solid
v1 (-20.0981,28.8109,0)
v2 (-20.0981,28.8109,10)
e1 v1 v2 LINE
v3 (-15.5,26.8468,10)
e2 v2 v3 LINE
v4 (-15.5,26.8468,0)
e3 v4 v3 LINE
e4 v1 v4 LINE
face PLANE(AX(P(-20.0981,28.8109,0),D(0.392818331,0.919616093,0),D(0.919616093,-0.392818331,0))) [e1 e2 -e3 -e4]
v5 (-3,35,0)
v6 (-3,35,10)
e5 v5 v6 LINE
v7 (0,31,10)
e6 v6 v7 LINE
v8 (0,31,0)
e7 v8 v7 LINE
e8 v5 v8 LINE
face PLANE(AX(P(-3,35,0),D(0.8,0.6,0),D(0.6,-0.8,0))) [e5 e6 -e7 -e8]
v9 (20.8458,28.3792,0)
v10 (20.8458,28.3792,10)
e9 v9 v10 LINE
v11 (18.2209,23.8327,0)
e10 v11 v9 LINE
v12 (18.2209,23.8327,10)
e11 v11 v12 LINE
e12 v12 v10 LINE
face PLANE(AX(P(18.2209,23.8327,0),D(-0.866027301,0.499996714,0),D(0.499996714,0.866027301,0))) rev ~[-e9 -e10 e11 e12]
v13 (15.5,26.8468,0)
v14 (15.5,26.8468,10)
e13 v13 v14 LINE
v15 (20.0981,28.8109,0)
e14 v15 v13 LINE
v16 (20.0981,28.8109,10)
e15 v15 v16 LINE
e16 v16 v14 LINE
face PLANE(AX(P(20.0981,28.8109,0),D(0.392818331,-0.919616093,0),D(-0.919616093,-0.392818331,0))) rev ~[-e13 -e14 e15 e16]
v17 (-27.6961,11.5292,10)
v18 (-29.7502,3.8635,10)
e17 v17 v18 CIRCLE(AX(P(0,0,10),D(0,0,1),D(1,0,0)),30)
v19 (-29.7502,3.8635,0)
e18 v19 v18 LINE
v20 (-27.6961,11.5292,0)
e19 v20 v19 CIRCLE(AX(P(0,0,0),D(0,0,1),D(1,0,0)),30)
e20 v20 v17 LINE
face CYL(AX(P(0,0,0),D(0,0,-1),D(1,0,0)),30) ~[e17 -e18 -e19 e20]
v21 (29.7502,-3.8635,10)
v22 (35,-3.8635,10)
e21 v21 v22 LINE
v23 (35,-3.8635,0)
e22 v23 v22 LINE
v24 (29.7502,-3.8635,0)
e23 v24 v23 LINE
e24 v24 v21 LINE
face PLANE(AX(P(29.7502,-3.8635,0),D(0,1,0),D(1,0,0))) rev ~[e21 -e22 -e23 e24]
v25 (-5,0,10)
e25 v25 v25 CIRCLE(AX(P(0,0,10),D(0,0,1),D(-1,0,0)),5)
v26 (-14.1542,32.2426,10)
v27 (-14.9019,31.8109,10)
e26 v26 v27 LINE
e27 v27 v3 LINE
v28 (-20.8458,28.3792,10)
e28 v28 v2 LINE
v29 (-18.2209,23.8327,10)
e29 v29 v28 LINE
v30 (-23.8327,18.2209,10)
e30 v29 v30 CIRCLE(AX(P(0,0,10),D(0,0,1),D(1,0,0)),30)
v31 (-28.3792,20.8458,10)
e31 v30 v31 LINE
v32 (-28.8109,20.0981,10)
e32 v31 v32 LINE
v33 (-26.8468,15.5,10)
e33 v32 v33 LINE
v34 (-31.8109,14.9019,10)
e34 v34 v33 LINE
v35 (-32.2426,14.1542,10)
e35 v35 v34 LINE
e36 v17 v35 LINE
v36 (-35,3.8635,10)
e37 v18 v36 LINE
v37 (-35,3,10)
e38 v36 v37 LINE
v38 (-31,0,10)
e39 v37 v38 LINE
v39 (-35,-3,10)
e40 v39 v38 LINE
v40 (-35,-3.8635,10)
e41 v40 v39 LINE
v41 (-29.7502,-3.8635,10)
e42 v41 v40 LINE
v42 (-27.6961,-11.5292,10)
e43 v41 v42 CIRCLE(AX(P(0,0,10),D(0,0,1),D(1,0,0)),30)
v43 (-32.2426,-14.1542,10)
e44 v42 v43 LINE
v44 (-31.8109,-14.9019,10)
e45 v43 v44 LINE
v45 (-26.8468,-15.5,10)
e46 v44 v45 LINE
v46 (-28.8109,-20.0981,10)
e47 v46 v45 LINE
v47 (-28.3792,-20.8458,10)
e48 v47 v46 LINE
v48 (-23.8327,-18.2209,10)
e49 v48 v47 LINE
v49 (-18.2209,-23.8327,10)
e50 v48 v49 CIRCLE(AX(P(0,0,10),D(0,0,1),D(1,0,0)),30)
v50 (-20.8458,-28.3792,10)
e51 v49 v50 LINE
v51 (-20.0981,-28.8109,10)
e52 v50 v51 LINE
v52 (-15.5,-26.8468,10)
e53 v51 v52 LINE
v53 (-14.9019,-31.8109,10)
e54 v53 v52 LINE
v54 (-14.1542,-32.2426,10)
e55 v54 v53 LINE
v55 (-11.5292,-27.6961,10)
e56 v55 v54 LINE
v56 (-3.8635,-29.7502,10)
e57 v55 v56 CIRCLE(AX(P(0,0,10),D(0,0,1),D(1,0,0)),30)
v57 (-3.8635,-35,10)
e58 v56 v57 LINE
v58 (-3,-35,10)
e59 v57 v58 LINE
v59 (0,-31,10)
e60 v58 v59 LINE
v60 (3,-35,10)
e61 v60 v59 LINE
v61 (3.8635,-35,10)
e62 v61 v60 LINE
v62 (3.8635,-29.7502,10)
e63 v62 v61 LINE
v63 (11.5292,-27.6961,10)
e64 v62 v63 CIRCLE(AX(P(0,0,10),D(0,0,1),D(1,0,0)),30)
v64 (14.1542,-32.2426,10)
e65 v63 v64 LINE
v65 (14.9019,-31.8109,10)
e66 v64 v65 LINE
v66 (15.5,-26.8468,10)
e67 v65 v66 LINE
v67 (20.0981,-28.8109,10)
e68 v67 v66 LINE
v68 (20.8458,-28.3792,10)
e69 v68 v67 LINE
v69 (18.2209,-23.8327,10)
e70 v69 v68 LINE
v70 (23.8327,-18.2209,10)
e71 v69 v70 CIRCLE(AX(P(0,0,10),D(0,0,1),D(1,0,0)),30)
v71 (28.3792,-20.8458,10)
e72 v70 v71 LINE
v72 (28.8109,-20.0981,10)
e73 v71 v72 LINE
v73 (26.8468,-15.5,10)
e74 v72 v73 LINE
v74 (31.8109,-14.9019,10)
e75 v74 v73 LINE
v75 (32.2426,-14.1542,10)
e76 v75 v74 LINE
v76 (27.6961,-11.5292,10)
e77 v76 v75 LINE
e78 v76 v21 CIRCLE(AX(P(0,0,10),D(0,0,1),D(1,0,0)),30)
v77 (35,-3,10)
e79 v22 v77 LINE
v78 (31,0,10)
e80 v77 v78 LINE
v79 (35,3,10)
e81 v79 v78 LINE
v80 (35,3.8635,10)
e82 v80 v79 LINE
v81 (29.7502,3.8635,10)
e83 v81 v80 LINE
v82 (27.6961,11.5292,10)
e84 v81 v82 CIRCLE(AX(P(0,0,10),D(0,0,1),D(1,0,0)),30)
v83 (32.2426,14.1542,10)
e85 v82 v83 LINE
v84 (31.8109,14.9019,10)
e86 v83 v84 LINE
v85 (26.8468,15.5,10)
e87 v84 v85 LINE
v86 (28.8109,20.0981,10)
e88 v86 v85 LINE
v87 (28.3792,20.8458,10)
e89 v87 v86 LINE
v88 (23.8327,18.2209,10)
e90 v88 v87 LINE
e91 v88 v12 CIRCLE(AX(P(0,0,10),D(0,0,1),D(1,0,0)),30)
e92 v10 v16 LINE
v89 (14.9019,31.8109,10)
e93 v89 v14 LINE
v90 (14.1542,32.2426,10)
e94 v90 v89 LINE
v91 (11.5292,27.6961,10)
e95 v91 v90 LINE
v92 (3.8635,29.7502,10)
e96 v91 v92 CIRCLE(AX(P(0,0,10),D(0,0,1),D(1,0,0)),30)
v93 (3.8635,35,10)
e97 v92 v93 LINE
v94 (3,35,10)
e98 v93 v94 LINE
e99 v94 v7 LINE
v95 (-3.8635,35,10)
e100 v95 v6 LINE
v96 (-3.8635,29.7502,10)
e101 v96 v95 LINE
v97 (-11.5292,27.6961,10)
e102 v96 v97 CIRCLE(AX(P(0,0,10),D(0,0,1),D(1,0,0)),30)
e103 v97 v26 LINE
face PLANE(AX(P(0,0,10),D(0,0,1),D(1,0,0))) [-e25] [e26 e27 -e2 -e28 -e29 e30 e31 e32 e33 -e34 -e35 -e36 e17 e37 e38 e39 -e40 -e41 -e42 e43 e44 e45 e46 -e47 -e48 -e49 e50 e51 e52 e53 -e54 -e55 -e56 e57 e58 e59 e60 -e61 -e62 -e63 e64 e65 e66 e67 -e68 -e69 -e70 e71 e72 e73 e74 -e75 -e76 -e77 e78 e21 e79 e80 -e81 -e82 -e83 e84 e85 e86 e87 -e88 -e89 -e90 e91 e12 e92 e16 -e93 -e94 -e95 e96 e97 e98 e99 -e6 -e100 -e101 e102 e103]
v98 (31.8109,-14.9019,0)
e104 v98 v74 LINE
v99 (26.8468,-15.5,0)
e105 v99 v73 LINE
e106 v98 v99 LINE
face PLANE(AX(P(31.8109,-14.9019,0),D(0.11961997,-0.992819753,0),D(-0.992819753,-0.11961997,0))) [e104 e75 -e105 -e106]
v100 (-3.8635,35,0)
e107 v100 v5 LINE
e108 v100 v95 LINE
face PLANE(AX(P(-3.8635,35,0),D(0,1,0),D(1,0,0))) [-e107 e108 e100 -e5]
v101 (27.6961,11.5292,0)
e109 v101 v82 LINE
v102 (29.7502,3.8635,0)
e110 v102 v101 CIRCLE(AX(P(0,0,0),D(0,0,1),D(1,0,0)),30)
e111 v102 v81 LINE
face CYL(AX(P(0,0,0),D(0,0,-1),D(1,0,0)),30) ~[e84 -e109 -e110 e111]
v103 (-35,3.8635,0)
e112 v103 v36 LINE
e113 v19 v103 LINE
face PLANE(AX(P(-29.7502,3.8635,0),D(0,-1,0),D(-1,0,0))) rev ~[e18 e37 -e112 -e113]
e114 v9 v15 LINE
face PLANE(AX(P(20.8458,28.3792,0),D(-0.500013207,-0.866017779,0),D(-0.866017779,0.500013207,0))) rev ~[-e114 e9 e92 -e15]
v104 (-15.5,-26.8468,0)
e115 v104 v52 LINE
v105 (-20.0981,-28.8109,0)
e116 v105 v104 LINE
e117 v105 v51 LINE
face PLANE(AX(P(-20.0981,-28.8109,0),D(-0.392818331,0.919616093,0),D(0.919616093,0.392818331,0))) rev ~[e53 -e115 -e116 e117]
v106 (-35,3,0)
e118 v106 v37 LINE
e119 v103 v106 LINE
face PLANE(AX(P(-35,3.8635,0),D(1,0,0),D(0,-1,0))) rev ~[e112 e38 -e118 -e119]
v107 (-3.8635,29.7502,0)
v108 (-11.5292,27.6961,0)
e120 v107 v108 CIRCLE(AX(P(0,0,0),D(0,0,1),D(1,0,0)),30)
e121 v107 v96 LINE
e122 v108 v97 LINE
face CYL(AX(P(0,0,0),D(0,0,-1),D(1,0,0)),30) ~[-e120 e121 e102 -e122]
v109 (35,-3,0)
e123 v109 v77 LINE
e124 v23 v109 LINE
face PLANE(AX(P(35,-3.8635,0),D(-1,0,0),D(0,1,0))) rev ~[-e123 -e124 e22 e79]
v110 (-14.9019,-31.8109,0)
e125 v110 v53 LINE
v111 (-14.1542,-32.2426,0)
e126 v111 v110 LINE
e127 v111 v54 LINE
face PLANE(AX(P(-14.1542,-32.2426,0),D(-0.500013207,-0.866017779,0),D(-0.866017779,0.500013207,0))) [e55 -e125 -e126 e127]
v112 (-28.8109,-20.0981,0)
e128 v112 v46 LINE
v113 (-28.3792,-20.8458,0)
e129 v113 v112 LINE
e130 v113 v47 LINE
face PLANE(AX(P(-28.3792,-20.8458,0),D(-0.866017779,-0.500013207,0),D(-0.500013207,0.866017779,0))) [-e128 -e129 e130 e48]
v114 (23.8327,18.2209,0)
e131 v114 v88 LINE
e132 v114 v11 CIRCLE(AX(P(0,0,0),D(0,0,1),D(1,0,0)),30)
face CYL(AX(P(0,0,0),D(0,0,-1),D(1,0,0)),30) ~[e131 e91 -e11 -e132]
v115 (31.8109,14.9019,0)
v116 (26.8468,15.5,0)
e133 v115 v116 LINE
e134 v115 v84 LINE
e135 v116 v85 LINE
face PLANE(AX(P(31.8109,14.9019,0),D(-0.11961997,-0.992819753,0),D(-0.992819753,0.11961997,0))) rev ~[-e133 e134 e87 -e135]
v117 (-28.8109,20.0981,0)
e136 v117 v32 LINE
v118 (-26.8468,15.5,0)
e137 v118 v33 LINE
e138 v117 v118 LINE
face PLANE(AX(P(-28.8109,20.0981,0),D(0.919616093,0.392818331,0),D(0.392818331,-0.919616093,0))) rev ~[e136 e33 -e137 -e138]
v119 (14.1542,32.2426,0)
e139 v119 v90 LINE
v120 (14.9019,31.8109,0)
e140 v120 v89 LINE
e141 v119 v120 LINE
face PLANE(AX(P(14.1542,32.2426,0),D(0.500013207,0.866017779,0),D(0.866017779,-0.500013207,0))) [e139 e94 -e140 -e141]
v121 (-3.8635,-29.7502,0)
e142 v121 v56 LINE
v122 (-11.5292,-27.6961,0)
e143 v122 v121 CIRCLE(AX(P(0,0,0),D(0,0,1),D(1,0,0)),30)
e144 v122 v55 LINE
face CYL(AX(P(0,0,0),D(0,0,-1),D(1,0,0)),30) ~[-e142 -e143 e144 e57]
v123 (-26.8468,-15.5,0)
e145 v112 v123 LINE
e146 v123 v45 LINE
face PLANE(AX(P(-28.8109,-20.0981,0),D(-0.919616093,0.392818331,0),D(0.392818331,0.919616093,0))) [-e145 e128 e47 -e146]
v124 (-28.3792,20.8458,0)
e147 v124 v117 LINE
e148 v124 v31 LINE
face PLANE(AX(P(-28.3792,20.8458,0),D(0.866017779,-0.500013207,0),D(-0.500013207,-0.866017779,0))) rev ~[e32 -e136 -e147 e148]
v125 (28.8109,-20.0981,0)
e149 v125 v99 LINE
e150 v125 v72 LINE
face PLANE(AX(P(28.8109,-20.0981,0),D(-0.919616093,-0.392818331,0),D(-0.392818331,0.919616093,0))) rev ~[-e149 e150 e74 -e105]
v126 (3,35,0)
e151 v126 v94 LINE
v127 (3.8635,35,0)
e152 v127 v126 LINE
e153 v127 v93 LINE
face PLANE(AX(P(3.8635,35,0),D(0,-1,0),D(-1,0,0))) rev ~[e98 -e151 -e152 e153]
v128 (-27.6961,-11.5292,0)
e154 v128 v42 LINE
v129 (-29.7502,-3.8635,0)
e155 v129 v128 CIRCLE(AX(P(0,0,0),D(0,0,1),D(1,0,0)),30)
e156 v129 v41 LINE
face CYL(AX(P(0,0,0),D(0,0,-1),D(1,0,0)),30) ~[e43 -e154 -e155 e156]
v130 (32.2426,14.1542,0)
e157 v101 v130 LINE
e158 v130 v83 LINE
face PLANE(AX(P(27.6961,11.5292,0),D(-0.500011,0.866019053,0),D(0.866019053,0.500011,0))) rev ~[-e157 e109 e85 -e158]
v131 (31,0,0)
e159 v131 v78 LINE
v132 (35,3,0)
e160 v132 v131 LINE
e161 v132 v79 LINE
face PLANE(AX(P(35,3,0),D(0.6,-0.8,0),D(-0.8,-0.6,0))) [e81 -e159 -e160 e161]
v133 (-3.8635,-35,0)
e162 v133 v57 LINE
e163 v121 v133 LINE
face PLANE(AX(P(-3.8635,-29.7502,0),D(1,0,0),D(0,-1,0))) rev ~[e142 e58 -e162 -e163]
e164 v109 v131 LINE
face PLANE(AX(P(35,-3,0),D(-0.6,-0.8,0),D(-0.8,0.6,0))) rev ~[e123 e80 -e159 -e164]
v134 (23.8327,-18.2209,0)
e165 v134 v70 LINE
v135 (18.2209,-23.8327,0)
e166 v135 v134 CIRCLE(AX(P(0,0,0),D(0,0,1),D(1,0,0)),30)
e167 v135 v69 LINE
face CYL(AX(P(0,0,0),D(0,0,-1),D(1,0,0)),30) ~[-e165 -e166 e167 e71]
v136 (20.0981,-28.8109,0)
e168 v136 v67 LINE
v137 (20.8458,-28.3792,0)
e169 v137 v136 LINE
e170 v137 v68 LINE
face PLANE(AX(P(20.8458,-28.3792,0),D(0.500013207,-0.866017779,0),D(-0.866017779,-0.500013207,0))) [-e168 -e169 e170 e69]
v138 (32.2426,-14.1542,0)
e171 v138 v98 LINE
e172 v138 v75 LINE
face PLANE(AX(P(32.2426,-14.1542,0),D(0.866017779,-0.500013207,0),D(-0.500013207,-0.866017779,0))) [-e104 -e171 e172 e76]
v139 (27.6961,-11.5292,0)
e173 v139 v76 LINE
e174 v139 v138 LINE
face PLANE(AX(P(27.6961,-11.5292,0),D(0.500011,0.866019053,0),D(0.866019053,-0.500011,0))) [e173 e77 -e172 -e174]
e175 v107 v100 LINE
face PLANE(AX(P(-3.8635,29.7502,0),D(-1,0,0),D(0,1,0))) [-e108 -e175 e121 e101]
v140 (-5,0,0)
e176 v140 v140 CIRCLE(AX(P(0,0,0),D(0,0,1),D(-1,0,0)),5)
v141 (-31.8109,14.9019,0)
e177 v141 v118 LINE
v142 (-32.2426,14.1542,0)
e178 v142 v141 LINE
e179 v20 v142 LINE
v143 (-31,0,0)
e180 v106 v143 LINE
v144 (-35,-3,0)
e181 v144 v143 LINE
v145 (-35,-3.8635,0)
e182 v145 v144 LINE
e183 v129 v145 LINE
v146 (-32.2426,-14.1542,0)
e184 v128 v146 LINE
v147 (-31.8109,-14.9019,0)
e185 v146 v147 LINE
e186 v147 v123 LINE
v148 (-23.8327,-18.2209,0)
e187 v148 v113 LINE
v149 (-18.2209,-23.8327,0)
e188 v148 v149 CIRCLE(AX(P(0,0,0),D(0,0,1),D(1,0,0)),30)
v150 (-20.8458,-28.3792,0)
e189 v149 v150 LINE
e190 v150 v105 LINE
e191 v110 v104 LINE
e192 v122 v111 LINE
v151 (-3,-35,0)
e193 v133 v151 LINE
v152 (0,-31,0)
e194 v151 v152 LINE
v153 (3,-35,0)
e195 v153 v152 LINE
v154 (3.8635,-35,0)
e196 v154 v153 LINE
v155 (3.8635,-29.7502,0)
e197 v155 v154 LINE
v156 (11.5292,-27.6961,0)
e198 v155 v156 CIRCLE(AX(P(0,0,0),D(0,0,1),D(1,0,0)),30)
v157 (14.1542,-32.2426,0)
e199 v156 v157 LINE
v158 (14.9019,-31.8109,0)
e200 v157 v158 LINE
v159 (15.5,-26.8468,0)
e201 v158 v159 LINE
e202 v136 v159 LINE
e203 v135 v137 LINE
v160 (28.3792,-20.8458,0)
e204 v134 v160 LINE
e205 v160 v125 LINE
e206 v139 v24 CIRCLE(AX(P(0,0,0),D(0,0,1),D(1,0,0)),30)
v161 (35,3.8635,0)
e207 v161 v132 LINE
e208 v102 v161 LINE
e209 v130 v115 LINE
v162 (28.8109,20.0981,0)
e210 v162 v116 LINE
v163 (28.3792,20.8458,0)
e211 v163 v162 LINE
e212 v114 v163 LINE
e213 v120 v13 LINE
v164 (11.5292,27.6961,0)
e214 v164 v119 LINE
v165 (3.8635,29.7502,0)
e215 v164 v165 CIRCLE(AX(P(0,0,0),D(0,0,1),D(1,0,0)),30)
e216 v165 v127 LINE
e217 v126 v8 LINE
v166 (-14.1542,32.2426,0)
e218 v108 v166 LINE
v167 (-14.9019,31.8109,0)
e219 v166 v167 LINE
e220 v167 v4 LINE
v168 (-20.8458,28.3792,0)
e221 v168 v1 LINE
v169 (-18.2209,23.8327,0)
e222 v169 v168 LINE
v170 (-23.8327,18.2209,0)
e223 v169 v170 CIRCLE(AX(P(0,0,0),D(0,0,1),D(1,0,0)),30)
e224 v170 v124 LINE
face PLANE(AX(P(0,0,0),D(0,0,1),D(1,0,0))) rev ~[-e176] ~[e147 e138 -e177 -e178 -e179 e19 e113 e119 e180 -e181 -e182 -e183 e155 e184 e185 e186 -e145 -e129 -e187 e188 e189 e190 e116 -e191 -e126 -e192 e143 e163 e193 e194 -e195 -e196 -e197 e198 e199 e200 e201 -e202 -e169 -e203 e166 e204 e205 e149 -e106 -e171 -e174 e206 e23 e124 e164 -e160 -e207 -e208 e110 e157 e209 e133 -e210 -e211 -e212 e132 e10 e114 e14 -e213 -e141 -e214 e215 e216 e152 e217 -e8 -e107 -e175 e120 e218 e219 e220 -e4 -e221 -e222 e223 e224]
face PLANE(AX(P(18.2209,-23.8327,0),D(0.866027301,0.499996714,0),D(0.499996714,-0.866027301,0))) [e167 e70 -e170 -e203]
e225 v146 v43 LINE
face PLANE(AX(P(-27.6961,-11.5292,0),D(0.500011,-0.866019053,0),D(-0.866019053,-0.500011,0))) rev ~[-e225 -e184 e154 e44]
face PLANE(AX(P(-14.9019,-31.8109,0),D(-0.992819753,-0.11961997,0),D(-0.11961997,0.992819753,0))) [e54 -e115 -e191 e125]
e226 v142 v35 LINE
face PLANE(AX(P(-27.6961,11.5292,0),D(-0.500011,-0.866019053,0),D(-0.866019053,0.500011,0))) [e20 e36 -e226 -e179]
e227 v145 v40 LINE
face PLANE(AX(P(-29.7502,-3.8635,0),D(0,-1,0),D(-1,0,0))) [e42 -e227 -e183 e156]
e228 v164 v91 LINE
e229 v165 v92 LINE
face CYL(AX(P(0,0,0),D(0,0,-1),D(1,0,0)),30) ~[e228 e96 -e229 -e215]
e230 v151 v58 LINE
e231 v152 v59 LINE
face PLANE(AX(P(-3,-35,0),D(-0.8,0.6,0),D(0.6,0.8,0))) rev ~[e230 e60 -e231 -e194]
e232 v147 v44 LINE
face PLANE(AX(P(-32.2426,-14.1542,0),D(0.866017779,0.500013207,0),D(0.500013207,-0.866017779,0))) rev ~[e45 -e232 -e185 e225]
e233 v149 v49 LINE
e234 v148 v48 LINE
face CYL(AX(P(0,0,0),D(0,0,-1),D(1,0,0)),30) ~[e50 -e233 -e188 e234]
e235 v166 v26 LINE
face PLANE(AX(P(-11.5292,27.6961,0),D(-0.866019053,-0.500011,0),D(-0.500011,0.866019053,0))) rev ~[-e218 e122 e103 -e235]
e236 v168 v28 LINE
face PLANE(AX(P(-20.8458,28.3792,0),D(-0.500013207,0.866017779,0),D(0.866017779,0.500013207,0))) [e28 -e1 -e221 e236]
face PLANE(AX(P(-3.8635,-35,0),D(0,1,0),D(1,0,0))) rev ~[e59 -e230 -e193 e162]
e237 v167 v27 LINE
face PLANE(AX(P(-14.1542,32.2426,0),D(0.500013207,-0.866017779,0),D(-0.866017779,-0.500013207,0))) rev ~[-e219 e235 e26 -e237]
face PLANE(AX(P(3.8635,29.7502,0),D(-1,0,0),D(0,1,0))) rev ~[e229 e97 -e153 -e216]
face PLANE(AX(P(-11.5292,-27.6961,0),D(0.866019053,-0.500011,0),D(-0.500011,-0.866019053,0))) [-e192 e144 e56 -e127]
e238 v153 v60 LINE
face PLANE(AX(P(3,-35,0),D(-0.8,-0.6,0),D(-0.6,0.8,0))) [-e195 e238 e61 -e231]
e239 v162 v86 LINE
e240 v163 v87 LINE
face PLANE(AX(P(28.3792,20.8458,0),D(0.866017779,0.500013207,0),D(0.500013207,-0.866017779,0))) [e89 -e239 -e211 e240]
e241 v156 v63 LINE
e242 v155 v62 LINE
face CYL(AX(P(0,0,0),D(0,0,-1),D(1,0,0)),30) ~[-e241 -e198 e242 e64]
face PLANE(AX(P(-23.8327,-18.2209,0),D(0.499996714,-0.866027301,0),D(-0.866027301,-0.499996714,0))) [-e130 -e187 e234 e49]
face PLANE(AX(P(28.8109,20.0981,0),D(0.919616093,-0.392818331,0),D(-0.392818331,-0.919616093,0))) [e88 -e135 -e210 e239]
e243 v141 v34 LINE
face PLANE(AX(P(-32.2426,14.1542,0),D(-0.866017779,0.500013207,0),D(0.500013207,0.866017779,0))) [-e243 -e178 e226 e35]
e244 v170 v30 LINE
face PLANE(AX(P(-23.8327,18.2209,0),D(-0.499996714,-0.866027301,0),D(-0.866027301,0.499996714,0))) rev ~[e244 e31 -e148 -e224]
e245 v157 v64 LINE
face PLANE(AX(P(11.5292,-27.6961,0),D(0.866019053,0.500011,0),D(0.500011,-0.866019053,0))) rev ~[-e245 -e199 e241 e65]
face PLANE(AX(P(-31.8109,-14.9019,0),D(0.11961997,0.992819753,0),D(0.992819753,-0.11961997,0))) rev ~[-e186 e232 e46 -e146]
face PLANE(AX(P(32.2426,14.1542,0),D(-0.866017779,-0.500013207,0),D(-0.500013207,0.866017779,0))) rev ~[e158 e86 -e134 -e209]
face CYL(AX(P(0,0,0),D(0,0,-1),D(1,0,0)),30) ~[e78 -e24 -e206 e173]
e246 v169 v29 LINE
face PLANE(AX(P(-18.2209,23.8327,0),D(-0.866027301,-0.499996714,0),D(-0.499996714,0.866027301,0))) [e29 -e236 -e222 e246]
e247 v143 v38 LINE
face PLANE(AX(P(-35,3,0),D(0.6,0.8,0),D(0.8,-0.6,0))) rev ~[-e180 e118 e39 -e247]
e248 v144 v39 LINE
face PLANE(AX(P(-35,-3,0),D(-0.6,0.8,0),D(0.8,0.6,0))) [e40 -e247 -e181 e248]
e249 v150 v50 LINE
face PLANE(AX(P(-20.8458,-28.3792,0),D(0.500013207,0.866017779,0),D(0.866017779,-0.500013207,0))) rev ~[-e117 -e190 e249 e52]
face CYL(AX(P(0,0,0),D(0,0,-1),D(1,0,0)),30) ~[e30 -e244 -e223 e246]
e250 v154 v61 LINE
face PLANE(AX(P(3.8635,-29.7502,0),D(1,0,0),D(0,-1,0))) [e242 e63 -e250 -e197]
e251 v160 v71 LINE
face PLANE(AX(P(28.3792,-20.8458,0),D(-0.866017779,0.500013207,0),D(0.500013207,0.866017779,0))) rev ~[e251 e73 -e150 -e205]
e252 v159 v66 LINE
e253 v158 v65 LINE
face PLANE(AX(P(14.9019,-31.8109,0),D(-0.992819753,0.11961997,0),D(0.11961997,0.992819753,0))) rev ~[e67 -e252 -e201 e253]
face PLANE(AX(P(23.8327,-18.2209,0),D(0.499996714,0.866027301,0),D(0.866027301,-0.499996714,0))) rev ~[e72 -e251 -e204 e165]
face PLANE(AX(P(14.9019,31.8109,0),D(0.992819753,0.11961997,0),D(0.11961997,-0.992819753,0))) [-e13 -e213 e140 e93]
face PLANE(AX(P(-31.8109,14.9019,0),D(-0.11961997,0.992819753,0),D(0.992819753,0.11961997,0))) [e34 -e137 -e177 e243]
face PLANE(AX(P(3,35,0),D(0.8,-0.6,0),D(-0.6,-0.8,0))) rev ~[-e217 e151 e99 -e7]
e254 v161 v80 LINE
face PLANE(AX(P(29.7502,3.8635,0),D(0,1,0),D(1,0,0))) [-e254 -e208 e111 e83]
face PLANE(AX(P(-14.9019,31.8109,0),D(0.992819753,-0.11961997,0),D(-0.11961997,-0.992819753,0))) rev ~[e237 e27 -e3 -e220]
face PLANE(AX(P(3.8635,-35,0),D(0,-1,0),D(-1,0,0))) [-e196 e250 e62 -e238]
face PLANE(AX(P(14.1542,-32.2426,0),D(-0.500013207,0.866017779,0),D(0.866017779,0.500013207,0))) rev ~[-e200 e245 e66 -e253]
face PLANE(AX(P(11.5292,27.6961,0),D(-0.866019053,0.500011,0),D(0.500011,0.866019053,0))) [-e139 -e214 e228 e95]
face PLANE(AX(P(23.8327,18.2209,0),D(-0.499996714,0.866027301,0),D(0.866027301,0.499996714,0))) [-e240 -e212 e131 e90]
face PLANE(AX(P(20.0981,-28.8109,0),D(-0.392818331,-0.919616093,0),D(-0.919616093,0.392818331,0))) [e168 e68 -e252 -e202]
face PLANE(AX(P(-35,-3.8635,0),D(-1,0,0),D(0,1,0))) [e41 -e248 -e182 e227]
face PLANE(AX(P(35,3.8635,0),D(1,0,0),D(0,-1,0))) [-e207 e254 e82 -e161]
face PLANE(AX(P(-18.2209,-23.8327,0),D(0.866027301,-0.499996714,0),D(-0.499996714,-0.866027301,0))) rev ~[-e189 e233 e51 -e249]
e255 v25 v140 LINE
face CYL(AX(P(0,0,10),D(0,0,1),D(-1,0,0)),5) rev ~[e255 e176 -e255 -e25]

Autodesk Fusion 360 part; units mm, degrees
sketch "turn wheel" plane through (0, 0, 0) normal (0, 0, 1) x (1, 0, 0)
  circle A0 centre (0, 0) radius 30
  line L0 (-3.8635, 29.7502) -> (-3.8635, 35)
  line L1 (-3.8635, 35) -> (-3, 35)
  line L2 (-3, 35) -> (0, 31)
  line L3 (0, 35) -> (0, 30) construction
  line L4 (3.8635, 29.7502) -> (3.8635, 35)
  line L5 (3.8635, 35) -> (3, 35)
  line L6 (3, 35) -> (0, 31)
  line L7 (-18.2209, 23.8327) -> (-20.8458, 28.3792)
  line L8 (-20.0981, 28.8109) -> (-15.5, 26.8468)
  line L9 (-20.8458, 28.3792) -> (-20.0981, 28.8109)
  line L10 (-14.9019, 31.8109) -> (-15.5, 26.8468)
  line L11 (-14.1542, 32.2426) -> (-14.9019, 31.8109)
  line L12 (-11.5292, 27.6961) -> (-14.1542, 32.2426)
  line L13 (-27.6961, 11.5292) -> (-32.2426, 14.1542)
  line L14 (-31.8109, 14.9019) -> (-26.8468, 15.5)
  line L15 (-32.2426, 14.1542) -> (-31.8109, 14.9019)
  line L16 (-28.8109, 20.0981) -> (-26.8468, 15.5)
  line L17 (-28.3792, 20.8458) -> (-28.8109, 20.0981)
  line L18 (-23.8327, 18.2209) -> (-28.3792, 20.8458)
  line L19 (-29.7502, -3.8635) -> (-35, -3.8635)
  line L20 (-35, -3) -> (-31, 0)
  line L21 (-35, -3.8635) -> (-35, -3)
  line L22 (-35, 3) -> (-31, 0)
  line L23 (-35, 3.8635) -> (-35, 3)
  line L24 (-29.7502, 3.8635) -> (-35, 3.8635)
  line L25 (-23.8327, -18.2209) -> (-28.3792, -20.8458)
  line L26 (-28.8109, -20.0981) -> (-26.8468, -15.5)
  line L27 (-28.3792, -20.8458) -> (-28.8109, -20.0981)
  line L28 (-31.8109, -14.9019) -> (-26.8468, -15.5)
  line L29 (-32.2426, -14.1542) -> (-31.8109, -14.9019)
  line L30 (-27.6961, -11.5292) -> (-32.2426, -14.1542)
  line L31 (-11.5292, -27.6961) -> (-14.1542, -32.2426)
  line L32 (-14.9019, -31.8109) -> (-15.5, -26.8468)
  line L33 (-14.1542, -32.2426) -> (-14.9019, -31.8109)
  line L34 (-20.0981, -28.8109) -> (-15.5, -26.8468)
  line L35 (-20.8458, -28.3792) -> (-20.0981, -28.8109)
  line L36 (-18.2209, -23.8327) -> (-20.8458, -28.3792)
  line L37 (3.8635, -29.7502) -> (3.8635, -35)
  line L38 (3, -35) -> (0, -31)
  line L39 (3.8635, -35) -> (3, -35)
  line L40 (-3, -35) -> (0, -31)
  line L41 (-3.8635, -35) -> (-3, -35)
  line L42 (-3.8635, -29.7502) -> (-3.8635, -35)
  line L43 (18.2209, -23.8327) -> (20.8458, -28.3792)
  line L44 (20.0981, -28.8109) -> (15.5, -26.8468)
  line L45 (20.8458, -28.3792) -> (20.0981, -28.8109)
  line L46 (14.9019, -31.8109) -> (15.5, -26.8468)
  line L47 (14.1542, -32.2426) -> (14.9019, -31.8109)
  line L48 (11.5292, -27.6961) -> (14.1542, -32.2426)
  line L49 (27.6961, -11.5292) -> (32.2426, -14.1542)
  line L50 (31.8109, -14.9019) -> (26.8468, -15.5)
  line L51 (32.2426, -14.1542) -> (31.8109, -14.9019)
  line L52 (28.8109, -20.0981) -> (26.8468, -15.5)
  line L53 (28.3792, -20.8458) -> (28.8109, -20.0981)
  line L54 (23.8327, -18.2209) -> (28.3792, -20.8458)
  line L55 (29.7502, 3.8635) -> (35, 3.8635)
  line L56 (35, 3) -> (31, 0)
  line L57 (35, 3.8635) -> (35, 3)
  line L58 (35, -3) -> (31, 0)
  line L59 (35, -3.8635) -> (35, -3)
  line L60 (29.7502, -3.8635) -> (35, -3.8635)
  line L61 (23.8327, 18.2209) -> (28.3792, 20.8458)
  line L62 (28.8109, 20.0981) -> (26.8468, 15.5)
  line L63 (28.3792, 20.8458) -> (28.8109, 20.0981)
  line L64 (31.8109, 14.9019) -> (26.8468, 15.5)
  line L65 (32.2426, 14.1542) -> (31.8109, 14.9019)
  line L66 (27.6961, 11.5292) -> (32.2426, 14.1542)
  line L67 (11.5292, 27.6961) -> (14.1542, 32.2426)
  line L68 (14.9019, 31.8109) -> (15.5, 26.8468)
  line L69 (14.1542, 32.2426) -> (14.9019, 31.8109)
  line L70 (20.0981, 28.8109) -> (15.5, 26.8468)
  line L71 (20.8458, 28.3792) -> (20.0981, 28.8109)
  line L72 (18.2209, 23.8327) -> (20.8458, 28.3792)
  dimension "d1" = 60
  dimension "d2" = 5.2498
  dimension "d3" = 0.8635
  dimension "d4" = 5
  dimension "d6" = 360
extrude "Extrude1" add sketch "turn wheel" along normal blind 10
sketch "hole punch" plane through (0, 0, 10) normal (0, 0, 1) x (-1, 0, 0)
  arc A0 (-23.8327, -18.2209) -> (-18.2209, -23.8327) centre (0, 0) ccw
  line L0 (-18.2209, -23.8327) -> (-20.8458, -28.3792)
  line L1 (-20.8458, -28.3792) -> (-20.0981, -28.8109)
  line L2 (-20.0981, -28.8109) -> (-15.5, -26.8468)
  line L3 (-15.5, -26.8468) -> (-14.9019, -31.8109)
  line L4 (-14.9019, -31.8109) -> (-14.1542, -32.2426)
  line L5 (-14.1542, -32.2426) -> (-11.5292, -27.6961)
  arc A1 (-11.5292, -27.6961) -> (-3.8635, -29.7502) centre (0, 0) ccw
  line L6 (-3.8635, -29.7502) -> (-3.8635, -35)
  line L7 (-3.8635, -35) -> (-3, -35)
  line L8 (-3, -35) -> (0, -31)
  line L9 (0, -31) -> (3, -35)
  line L10 (3, -35) -> (3.8635, -35)
  line L11 (3.8635, -35) -> (3.8635, -29.7502)
  arc A2 (3.8635, -29.7502) -> (11.5292, -27.6961) centre (0, 0) ccw
  line L12 (11.5292, -27.6961) -> (14.1542, -32.2426)
  line L13 (14.1542, -32.2426) -> (14.9019, -31.8109)
  line L14 (14.9019, -31.8109) -> (15.5, -26.8468)
  line L15 (15.5, -26.8468) -> (20.0981, -28.8109)
  line L16 (20.0981, -28.8109) -> (20.8458, -28.3792)
  line L17 (20.8458, -28.3792) -> (18.2209, -23.8327)
  arc A3 (18.2209, -23.8327) -> (23.8327, -18.2209) centre (0, 0) ccw
  line L18 (23.8327, -18.2209) -> (28.3792, -20.8458)
  line L19 (28.3792, -20.8458) -> (28.8109, -20.0981)
  line L20 (28.8109, -20.0981) -> (26.8468, -15.5)
  line L21 (26.8468, -15.5) -> (31.8109, -14.9019)
  line L22 (31.8109, -14.9019) -> (32.2426, -14.1542)
  line L23 (32.2426, -14.1542) -> (27.6961, -11.5292)
  arc A4 (27.6961, -11.5292) -> (29.7502, -3.8635) centre (0, 0) ccw
  line L24 (29.7502, -3.8635) -> (35, -3.8635)
  line L25 (35, -3.8635) -> (35, -3)
  line L26 (35, -3) -> (31, 0)
  line L27 (31, 0) -> (35, 3)
  line L28 (35, 3) -> (35, 3.8635)
  line L29 (35, 3.8635) -> (29.7502, 3.8635)
  arc A5 (29.7502, 3.8635) -> (27.6961, 11.5292) centre (0, 0) ccw
  line L30 (27.6961, 11.5292) -> (32.2426, 14.1542)
  line L31 (32.2426, 14.1542) -> (31.8109, 14.9019)
  line L32 (31.8109, 14.9019) -> (26.8468, 15.5)
  line L33 (26.8468, 15.5) -> (28.8109, 20.0981)
  line L34 (28.8109, 20.0981) -> (28.3792, 20.8458)
  line L35 (28.3792, 20.8458) -> (23.8327, 18.2209)
  arc A6 (23.8327, 18.2209) -> (18.2209, 23.8327) centre (0, 0) ccw
  line L36 (18.2209, 23.8327) -> (20.8458, 28.3792)
  line L37 (20.8458, 28.3792) -> (20.0981, 28.8109)
  line L38 (20.0981, 28.8109) -> (15.5, 26.8468)
  line L39 (15.5, 26.8468) -> (14.9019, 31.8109)
  line L40 (14.9019, 31.8109) -> (14.1542, 32.2426)
  line L41 (14.1542, 32.2426) -> (11.5292, 27.6961)
  arc A7 (11.5292, 27.6961) -> (3.8635, 29.7502) centre (0, 0) ccw
  line L42 (3.8635, 29.7502) -> (3.8635, 35)
  line L43 (3.8635, 35) -> (3, 35)
  line L44 (3, 35) -> (0, 31)
  line L45 (0, 31) -> (-3, 35)
  line L46 (-3, 35) -> (-3.8635, 35)
  line L47 (-3.8635, 35) -> (-3.8635, 29.7502)
  arc A8 (-3.8635, 29.7502) -> (-11.5292, 27.6961) centre (0, 0) ccw
  line L48 (-11.5292, 27.6961) -> (-14.1542, 32.2426)
  line L49 (-14.1542, 32.2426) -> (-14.9019, 31.8109)
  line L50 (-14.9019, 31.8109) -> (-15.5, 26.8468)
  line L51 (-15.5, 26.8468) -> (-20.0981, 28.8109)
  line L52 (-20.0981, 28.8109) -> (-20.8458, 28.3792)
  line L53 (-20.8458, 28.3792) -> (-18.2209, 23.8327)
  arc A9 (-18.2209, 23.8327) -> (-23.8327, 18.2209) centre (0, 0) ccw
  line L54 (-23.8327, 18.2209) -> (-28.3792, 20.8458)
  line L55 (-28.3792, 20.8458) -> (-28.8109, 20.0981)
  line L56 (-28.8109, 20.0981) -> (-26.8468, 15.5)
  line L57 (-26.8468, 15.5) -> (-31.8109, 14.9019)
  line L58 (-31.8109, 14.9019) -> (-32.2426, 14.1542)
  line L59 (-32.2426, 14.1542) -> (-27.6961, 11.5292)
  arc A10 (-27.6961, 11.5292) -> (-29.7502, 3.8635) centre (0, 0) ccw
  line L60 (-29.7502, 3.8635) -> (-35, 3.8635)
  line L61 (-35, 3.8635) -> (-35, 3)
  line L62 (-35, 3) -> (-31, 0)
  line L63 (-31, 0) -> (-35, -3)
  line L64 (-35, -3) -> (-35, -3.8635)
  line L65 (-35, -3.8635) -> (-29.7502, -3.8635)
  arc A11 (-29.7502, -3.8635) -> (-27.6961, -11.5292) centre (0, 0) ccw
  line L66 (-27.6961, -11.5292) -> (-32.2426, -14.1542)
  line L67 (-32.2426, -14.1542) -> (-31.8109, -14.9019)
  line L68 (-31.8109, -14.9019) -> (-26.8468, -15.5)
  line L69 (-26.8468, -15.5) -> (-28.8109, -20.0981)
  line L70 (-28.8109, -20.0981) -> (-28.3792, -20.8458)
  line L71 (-28.3792, -20.8458) -> (-23.8327, -18.2209)
  line L72 (31, 0) -> (-31, 0) construction
  line L73 (0, -31) -> (0, 31) construction
  circle A12 centre (0, 0) radius 5
extrude "Extrude2" cut sketch "hole punch" against normal blind 10 contours A12
